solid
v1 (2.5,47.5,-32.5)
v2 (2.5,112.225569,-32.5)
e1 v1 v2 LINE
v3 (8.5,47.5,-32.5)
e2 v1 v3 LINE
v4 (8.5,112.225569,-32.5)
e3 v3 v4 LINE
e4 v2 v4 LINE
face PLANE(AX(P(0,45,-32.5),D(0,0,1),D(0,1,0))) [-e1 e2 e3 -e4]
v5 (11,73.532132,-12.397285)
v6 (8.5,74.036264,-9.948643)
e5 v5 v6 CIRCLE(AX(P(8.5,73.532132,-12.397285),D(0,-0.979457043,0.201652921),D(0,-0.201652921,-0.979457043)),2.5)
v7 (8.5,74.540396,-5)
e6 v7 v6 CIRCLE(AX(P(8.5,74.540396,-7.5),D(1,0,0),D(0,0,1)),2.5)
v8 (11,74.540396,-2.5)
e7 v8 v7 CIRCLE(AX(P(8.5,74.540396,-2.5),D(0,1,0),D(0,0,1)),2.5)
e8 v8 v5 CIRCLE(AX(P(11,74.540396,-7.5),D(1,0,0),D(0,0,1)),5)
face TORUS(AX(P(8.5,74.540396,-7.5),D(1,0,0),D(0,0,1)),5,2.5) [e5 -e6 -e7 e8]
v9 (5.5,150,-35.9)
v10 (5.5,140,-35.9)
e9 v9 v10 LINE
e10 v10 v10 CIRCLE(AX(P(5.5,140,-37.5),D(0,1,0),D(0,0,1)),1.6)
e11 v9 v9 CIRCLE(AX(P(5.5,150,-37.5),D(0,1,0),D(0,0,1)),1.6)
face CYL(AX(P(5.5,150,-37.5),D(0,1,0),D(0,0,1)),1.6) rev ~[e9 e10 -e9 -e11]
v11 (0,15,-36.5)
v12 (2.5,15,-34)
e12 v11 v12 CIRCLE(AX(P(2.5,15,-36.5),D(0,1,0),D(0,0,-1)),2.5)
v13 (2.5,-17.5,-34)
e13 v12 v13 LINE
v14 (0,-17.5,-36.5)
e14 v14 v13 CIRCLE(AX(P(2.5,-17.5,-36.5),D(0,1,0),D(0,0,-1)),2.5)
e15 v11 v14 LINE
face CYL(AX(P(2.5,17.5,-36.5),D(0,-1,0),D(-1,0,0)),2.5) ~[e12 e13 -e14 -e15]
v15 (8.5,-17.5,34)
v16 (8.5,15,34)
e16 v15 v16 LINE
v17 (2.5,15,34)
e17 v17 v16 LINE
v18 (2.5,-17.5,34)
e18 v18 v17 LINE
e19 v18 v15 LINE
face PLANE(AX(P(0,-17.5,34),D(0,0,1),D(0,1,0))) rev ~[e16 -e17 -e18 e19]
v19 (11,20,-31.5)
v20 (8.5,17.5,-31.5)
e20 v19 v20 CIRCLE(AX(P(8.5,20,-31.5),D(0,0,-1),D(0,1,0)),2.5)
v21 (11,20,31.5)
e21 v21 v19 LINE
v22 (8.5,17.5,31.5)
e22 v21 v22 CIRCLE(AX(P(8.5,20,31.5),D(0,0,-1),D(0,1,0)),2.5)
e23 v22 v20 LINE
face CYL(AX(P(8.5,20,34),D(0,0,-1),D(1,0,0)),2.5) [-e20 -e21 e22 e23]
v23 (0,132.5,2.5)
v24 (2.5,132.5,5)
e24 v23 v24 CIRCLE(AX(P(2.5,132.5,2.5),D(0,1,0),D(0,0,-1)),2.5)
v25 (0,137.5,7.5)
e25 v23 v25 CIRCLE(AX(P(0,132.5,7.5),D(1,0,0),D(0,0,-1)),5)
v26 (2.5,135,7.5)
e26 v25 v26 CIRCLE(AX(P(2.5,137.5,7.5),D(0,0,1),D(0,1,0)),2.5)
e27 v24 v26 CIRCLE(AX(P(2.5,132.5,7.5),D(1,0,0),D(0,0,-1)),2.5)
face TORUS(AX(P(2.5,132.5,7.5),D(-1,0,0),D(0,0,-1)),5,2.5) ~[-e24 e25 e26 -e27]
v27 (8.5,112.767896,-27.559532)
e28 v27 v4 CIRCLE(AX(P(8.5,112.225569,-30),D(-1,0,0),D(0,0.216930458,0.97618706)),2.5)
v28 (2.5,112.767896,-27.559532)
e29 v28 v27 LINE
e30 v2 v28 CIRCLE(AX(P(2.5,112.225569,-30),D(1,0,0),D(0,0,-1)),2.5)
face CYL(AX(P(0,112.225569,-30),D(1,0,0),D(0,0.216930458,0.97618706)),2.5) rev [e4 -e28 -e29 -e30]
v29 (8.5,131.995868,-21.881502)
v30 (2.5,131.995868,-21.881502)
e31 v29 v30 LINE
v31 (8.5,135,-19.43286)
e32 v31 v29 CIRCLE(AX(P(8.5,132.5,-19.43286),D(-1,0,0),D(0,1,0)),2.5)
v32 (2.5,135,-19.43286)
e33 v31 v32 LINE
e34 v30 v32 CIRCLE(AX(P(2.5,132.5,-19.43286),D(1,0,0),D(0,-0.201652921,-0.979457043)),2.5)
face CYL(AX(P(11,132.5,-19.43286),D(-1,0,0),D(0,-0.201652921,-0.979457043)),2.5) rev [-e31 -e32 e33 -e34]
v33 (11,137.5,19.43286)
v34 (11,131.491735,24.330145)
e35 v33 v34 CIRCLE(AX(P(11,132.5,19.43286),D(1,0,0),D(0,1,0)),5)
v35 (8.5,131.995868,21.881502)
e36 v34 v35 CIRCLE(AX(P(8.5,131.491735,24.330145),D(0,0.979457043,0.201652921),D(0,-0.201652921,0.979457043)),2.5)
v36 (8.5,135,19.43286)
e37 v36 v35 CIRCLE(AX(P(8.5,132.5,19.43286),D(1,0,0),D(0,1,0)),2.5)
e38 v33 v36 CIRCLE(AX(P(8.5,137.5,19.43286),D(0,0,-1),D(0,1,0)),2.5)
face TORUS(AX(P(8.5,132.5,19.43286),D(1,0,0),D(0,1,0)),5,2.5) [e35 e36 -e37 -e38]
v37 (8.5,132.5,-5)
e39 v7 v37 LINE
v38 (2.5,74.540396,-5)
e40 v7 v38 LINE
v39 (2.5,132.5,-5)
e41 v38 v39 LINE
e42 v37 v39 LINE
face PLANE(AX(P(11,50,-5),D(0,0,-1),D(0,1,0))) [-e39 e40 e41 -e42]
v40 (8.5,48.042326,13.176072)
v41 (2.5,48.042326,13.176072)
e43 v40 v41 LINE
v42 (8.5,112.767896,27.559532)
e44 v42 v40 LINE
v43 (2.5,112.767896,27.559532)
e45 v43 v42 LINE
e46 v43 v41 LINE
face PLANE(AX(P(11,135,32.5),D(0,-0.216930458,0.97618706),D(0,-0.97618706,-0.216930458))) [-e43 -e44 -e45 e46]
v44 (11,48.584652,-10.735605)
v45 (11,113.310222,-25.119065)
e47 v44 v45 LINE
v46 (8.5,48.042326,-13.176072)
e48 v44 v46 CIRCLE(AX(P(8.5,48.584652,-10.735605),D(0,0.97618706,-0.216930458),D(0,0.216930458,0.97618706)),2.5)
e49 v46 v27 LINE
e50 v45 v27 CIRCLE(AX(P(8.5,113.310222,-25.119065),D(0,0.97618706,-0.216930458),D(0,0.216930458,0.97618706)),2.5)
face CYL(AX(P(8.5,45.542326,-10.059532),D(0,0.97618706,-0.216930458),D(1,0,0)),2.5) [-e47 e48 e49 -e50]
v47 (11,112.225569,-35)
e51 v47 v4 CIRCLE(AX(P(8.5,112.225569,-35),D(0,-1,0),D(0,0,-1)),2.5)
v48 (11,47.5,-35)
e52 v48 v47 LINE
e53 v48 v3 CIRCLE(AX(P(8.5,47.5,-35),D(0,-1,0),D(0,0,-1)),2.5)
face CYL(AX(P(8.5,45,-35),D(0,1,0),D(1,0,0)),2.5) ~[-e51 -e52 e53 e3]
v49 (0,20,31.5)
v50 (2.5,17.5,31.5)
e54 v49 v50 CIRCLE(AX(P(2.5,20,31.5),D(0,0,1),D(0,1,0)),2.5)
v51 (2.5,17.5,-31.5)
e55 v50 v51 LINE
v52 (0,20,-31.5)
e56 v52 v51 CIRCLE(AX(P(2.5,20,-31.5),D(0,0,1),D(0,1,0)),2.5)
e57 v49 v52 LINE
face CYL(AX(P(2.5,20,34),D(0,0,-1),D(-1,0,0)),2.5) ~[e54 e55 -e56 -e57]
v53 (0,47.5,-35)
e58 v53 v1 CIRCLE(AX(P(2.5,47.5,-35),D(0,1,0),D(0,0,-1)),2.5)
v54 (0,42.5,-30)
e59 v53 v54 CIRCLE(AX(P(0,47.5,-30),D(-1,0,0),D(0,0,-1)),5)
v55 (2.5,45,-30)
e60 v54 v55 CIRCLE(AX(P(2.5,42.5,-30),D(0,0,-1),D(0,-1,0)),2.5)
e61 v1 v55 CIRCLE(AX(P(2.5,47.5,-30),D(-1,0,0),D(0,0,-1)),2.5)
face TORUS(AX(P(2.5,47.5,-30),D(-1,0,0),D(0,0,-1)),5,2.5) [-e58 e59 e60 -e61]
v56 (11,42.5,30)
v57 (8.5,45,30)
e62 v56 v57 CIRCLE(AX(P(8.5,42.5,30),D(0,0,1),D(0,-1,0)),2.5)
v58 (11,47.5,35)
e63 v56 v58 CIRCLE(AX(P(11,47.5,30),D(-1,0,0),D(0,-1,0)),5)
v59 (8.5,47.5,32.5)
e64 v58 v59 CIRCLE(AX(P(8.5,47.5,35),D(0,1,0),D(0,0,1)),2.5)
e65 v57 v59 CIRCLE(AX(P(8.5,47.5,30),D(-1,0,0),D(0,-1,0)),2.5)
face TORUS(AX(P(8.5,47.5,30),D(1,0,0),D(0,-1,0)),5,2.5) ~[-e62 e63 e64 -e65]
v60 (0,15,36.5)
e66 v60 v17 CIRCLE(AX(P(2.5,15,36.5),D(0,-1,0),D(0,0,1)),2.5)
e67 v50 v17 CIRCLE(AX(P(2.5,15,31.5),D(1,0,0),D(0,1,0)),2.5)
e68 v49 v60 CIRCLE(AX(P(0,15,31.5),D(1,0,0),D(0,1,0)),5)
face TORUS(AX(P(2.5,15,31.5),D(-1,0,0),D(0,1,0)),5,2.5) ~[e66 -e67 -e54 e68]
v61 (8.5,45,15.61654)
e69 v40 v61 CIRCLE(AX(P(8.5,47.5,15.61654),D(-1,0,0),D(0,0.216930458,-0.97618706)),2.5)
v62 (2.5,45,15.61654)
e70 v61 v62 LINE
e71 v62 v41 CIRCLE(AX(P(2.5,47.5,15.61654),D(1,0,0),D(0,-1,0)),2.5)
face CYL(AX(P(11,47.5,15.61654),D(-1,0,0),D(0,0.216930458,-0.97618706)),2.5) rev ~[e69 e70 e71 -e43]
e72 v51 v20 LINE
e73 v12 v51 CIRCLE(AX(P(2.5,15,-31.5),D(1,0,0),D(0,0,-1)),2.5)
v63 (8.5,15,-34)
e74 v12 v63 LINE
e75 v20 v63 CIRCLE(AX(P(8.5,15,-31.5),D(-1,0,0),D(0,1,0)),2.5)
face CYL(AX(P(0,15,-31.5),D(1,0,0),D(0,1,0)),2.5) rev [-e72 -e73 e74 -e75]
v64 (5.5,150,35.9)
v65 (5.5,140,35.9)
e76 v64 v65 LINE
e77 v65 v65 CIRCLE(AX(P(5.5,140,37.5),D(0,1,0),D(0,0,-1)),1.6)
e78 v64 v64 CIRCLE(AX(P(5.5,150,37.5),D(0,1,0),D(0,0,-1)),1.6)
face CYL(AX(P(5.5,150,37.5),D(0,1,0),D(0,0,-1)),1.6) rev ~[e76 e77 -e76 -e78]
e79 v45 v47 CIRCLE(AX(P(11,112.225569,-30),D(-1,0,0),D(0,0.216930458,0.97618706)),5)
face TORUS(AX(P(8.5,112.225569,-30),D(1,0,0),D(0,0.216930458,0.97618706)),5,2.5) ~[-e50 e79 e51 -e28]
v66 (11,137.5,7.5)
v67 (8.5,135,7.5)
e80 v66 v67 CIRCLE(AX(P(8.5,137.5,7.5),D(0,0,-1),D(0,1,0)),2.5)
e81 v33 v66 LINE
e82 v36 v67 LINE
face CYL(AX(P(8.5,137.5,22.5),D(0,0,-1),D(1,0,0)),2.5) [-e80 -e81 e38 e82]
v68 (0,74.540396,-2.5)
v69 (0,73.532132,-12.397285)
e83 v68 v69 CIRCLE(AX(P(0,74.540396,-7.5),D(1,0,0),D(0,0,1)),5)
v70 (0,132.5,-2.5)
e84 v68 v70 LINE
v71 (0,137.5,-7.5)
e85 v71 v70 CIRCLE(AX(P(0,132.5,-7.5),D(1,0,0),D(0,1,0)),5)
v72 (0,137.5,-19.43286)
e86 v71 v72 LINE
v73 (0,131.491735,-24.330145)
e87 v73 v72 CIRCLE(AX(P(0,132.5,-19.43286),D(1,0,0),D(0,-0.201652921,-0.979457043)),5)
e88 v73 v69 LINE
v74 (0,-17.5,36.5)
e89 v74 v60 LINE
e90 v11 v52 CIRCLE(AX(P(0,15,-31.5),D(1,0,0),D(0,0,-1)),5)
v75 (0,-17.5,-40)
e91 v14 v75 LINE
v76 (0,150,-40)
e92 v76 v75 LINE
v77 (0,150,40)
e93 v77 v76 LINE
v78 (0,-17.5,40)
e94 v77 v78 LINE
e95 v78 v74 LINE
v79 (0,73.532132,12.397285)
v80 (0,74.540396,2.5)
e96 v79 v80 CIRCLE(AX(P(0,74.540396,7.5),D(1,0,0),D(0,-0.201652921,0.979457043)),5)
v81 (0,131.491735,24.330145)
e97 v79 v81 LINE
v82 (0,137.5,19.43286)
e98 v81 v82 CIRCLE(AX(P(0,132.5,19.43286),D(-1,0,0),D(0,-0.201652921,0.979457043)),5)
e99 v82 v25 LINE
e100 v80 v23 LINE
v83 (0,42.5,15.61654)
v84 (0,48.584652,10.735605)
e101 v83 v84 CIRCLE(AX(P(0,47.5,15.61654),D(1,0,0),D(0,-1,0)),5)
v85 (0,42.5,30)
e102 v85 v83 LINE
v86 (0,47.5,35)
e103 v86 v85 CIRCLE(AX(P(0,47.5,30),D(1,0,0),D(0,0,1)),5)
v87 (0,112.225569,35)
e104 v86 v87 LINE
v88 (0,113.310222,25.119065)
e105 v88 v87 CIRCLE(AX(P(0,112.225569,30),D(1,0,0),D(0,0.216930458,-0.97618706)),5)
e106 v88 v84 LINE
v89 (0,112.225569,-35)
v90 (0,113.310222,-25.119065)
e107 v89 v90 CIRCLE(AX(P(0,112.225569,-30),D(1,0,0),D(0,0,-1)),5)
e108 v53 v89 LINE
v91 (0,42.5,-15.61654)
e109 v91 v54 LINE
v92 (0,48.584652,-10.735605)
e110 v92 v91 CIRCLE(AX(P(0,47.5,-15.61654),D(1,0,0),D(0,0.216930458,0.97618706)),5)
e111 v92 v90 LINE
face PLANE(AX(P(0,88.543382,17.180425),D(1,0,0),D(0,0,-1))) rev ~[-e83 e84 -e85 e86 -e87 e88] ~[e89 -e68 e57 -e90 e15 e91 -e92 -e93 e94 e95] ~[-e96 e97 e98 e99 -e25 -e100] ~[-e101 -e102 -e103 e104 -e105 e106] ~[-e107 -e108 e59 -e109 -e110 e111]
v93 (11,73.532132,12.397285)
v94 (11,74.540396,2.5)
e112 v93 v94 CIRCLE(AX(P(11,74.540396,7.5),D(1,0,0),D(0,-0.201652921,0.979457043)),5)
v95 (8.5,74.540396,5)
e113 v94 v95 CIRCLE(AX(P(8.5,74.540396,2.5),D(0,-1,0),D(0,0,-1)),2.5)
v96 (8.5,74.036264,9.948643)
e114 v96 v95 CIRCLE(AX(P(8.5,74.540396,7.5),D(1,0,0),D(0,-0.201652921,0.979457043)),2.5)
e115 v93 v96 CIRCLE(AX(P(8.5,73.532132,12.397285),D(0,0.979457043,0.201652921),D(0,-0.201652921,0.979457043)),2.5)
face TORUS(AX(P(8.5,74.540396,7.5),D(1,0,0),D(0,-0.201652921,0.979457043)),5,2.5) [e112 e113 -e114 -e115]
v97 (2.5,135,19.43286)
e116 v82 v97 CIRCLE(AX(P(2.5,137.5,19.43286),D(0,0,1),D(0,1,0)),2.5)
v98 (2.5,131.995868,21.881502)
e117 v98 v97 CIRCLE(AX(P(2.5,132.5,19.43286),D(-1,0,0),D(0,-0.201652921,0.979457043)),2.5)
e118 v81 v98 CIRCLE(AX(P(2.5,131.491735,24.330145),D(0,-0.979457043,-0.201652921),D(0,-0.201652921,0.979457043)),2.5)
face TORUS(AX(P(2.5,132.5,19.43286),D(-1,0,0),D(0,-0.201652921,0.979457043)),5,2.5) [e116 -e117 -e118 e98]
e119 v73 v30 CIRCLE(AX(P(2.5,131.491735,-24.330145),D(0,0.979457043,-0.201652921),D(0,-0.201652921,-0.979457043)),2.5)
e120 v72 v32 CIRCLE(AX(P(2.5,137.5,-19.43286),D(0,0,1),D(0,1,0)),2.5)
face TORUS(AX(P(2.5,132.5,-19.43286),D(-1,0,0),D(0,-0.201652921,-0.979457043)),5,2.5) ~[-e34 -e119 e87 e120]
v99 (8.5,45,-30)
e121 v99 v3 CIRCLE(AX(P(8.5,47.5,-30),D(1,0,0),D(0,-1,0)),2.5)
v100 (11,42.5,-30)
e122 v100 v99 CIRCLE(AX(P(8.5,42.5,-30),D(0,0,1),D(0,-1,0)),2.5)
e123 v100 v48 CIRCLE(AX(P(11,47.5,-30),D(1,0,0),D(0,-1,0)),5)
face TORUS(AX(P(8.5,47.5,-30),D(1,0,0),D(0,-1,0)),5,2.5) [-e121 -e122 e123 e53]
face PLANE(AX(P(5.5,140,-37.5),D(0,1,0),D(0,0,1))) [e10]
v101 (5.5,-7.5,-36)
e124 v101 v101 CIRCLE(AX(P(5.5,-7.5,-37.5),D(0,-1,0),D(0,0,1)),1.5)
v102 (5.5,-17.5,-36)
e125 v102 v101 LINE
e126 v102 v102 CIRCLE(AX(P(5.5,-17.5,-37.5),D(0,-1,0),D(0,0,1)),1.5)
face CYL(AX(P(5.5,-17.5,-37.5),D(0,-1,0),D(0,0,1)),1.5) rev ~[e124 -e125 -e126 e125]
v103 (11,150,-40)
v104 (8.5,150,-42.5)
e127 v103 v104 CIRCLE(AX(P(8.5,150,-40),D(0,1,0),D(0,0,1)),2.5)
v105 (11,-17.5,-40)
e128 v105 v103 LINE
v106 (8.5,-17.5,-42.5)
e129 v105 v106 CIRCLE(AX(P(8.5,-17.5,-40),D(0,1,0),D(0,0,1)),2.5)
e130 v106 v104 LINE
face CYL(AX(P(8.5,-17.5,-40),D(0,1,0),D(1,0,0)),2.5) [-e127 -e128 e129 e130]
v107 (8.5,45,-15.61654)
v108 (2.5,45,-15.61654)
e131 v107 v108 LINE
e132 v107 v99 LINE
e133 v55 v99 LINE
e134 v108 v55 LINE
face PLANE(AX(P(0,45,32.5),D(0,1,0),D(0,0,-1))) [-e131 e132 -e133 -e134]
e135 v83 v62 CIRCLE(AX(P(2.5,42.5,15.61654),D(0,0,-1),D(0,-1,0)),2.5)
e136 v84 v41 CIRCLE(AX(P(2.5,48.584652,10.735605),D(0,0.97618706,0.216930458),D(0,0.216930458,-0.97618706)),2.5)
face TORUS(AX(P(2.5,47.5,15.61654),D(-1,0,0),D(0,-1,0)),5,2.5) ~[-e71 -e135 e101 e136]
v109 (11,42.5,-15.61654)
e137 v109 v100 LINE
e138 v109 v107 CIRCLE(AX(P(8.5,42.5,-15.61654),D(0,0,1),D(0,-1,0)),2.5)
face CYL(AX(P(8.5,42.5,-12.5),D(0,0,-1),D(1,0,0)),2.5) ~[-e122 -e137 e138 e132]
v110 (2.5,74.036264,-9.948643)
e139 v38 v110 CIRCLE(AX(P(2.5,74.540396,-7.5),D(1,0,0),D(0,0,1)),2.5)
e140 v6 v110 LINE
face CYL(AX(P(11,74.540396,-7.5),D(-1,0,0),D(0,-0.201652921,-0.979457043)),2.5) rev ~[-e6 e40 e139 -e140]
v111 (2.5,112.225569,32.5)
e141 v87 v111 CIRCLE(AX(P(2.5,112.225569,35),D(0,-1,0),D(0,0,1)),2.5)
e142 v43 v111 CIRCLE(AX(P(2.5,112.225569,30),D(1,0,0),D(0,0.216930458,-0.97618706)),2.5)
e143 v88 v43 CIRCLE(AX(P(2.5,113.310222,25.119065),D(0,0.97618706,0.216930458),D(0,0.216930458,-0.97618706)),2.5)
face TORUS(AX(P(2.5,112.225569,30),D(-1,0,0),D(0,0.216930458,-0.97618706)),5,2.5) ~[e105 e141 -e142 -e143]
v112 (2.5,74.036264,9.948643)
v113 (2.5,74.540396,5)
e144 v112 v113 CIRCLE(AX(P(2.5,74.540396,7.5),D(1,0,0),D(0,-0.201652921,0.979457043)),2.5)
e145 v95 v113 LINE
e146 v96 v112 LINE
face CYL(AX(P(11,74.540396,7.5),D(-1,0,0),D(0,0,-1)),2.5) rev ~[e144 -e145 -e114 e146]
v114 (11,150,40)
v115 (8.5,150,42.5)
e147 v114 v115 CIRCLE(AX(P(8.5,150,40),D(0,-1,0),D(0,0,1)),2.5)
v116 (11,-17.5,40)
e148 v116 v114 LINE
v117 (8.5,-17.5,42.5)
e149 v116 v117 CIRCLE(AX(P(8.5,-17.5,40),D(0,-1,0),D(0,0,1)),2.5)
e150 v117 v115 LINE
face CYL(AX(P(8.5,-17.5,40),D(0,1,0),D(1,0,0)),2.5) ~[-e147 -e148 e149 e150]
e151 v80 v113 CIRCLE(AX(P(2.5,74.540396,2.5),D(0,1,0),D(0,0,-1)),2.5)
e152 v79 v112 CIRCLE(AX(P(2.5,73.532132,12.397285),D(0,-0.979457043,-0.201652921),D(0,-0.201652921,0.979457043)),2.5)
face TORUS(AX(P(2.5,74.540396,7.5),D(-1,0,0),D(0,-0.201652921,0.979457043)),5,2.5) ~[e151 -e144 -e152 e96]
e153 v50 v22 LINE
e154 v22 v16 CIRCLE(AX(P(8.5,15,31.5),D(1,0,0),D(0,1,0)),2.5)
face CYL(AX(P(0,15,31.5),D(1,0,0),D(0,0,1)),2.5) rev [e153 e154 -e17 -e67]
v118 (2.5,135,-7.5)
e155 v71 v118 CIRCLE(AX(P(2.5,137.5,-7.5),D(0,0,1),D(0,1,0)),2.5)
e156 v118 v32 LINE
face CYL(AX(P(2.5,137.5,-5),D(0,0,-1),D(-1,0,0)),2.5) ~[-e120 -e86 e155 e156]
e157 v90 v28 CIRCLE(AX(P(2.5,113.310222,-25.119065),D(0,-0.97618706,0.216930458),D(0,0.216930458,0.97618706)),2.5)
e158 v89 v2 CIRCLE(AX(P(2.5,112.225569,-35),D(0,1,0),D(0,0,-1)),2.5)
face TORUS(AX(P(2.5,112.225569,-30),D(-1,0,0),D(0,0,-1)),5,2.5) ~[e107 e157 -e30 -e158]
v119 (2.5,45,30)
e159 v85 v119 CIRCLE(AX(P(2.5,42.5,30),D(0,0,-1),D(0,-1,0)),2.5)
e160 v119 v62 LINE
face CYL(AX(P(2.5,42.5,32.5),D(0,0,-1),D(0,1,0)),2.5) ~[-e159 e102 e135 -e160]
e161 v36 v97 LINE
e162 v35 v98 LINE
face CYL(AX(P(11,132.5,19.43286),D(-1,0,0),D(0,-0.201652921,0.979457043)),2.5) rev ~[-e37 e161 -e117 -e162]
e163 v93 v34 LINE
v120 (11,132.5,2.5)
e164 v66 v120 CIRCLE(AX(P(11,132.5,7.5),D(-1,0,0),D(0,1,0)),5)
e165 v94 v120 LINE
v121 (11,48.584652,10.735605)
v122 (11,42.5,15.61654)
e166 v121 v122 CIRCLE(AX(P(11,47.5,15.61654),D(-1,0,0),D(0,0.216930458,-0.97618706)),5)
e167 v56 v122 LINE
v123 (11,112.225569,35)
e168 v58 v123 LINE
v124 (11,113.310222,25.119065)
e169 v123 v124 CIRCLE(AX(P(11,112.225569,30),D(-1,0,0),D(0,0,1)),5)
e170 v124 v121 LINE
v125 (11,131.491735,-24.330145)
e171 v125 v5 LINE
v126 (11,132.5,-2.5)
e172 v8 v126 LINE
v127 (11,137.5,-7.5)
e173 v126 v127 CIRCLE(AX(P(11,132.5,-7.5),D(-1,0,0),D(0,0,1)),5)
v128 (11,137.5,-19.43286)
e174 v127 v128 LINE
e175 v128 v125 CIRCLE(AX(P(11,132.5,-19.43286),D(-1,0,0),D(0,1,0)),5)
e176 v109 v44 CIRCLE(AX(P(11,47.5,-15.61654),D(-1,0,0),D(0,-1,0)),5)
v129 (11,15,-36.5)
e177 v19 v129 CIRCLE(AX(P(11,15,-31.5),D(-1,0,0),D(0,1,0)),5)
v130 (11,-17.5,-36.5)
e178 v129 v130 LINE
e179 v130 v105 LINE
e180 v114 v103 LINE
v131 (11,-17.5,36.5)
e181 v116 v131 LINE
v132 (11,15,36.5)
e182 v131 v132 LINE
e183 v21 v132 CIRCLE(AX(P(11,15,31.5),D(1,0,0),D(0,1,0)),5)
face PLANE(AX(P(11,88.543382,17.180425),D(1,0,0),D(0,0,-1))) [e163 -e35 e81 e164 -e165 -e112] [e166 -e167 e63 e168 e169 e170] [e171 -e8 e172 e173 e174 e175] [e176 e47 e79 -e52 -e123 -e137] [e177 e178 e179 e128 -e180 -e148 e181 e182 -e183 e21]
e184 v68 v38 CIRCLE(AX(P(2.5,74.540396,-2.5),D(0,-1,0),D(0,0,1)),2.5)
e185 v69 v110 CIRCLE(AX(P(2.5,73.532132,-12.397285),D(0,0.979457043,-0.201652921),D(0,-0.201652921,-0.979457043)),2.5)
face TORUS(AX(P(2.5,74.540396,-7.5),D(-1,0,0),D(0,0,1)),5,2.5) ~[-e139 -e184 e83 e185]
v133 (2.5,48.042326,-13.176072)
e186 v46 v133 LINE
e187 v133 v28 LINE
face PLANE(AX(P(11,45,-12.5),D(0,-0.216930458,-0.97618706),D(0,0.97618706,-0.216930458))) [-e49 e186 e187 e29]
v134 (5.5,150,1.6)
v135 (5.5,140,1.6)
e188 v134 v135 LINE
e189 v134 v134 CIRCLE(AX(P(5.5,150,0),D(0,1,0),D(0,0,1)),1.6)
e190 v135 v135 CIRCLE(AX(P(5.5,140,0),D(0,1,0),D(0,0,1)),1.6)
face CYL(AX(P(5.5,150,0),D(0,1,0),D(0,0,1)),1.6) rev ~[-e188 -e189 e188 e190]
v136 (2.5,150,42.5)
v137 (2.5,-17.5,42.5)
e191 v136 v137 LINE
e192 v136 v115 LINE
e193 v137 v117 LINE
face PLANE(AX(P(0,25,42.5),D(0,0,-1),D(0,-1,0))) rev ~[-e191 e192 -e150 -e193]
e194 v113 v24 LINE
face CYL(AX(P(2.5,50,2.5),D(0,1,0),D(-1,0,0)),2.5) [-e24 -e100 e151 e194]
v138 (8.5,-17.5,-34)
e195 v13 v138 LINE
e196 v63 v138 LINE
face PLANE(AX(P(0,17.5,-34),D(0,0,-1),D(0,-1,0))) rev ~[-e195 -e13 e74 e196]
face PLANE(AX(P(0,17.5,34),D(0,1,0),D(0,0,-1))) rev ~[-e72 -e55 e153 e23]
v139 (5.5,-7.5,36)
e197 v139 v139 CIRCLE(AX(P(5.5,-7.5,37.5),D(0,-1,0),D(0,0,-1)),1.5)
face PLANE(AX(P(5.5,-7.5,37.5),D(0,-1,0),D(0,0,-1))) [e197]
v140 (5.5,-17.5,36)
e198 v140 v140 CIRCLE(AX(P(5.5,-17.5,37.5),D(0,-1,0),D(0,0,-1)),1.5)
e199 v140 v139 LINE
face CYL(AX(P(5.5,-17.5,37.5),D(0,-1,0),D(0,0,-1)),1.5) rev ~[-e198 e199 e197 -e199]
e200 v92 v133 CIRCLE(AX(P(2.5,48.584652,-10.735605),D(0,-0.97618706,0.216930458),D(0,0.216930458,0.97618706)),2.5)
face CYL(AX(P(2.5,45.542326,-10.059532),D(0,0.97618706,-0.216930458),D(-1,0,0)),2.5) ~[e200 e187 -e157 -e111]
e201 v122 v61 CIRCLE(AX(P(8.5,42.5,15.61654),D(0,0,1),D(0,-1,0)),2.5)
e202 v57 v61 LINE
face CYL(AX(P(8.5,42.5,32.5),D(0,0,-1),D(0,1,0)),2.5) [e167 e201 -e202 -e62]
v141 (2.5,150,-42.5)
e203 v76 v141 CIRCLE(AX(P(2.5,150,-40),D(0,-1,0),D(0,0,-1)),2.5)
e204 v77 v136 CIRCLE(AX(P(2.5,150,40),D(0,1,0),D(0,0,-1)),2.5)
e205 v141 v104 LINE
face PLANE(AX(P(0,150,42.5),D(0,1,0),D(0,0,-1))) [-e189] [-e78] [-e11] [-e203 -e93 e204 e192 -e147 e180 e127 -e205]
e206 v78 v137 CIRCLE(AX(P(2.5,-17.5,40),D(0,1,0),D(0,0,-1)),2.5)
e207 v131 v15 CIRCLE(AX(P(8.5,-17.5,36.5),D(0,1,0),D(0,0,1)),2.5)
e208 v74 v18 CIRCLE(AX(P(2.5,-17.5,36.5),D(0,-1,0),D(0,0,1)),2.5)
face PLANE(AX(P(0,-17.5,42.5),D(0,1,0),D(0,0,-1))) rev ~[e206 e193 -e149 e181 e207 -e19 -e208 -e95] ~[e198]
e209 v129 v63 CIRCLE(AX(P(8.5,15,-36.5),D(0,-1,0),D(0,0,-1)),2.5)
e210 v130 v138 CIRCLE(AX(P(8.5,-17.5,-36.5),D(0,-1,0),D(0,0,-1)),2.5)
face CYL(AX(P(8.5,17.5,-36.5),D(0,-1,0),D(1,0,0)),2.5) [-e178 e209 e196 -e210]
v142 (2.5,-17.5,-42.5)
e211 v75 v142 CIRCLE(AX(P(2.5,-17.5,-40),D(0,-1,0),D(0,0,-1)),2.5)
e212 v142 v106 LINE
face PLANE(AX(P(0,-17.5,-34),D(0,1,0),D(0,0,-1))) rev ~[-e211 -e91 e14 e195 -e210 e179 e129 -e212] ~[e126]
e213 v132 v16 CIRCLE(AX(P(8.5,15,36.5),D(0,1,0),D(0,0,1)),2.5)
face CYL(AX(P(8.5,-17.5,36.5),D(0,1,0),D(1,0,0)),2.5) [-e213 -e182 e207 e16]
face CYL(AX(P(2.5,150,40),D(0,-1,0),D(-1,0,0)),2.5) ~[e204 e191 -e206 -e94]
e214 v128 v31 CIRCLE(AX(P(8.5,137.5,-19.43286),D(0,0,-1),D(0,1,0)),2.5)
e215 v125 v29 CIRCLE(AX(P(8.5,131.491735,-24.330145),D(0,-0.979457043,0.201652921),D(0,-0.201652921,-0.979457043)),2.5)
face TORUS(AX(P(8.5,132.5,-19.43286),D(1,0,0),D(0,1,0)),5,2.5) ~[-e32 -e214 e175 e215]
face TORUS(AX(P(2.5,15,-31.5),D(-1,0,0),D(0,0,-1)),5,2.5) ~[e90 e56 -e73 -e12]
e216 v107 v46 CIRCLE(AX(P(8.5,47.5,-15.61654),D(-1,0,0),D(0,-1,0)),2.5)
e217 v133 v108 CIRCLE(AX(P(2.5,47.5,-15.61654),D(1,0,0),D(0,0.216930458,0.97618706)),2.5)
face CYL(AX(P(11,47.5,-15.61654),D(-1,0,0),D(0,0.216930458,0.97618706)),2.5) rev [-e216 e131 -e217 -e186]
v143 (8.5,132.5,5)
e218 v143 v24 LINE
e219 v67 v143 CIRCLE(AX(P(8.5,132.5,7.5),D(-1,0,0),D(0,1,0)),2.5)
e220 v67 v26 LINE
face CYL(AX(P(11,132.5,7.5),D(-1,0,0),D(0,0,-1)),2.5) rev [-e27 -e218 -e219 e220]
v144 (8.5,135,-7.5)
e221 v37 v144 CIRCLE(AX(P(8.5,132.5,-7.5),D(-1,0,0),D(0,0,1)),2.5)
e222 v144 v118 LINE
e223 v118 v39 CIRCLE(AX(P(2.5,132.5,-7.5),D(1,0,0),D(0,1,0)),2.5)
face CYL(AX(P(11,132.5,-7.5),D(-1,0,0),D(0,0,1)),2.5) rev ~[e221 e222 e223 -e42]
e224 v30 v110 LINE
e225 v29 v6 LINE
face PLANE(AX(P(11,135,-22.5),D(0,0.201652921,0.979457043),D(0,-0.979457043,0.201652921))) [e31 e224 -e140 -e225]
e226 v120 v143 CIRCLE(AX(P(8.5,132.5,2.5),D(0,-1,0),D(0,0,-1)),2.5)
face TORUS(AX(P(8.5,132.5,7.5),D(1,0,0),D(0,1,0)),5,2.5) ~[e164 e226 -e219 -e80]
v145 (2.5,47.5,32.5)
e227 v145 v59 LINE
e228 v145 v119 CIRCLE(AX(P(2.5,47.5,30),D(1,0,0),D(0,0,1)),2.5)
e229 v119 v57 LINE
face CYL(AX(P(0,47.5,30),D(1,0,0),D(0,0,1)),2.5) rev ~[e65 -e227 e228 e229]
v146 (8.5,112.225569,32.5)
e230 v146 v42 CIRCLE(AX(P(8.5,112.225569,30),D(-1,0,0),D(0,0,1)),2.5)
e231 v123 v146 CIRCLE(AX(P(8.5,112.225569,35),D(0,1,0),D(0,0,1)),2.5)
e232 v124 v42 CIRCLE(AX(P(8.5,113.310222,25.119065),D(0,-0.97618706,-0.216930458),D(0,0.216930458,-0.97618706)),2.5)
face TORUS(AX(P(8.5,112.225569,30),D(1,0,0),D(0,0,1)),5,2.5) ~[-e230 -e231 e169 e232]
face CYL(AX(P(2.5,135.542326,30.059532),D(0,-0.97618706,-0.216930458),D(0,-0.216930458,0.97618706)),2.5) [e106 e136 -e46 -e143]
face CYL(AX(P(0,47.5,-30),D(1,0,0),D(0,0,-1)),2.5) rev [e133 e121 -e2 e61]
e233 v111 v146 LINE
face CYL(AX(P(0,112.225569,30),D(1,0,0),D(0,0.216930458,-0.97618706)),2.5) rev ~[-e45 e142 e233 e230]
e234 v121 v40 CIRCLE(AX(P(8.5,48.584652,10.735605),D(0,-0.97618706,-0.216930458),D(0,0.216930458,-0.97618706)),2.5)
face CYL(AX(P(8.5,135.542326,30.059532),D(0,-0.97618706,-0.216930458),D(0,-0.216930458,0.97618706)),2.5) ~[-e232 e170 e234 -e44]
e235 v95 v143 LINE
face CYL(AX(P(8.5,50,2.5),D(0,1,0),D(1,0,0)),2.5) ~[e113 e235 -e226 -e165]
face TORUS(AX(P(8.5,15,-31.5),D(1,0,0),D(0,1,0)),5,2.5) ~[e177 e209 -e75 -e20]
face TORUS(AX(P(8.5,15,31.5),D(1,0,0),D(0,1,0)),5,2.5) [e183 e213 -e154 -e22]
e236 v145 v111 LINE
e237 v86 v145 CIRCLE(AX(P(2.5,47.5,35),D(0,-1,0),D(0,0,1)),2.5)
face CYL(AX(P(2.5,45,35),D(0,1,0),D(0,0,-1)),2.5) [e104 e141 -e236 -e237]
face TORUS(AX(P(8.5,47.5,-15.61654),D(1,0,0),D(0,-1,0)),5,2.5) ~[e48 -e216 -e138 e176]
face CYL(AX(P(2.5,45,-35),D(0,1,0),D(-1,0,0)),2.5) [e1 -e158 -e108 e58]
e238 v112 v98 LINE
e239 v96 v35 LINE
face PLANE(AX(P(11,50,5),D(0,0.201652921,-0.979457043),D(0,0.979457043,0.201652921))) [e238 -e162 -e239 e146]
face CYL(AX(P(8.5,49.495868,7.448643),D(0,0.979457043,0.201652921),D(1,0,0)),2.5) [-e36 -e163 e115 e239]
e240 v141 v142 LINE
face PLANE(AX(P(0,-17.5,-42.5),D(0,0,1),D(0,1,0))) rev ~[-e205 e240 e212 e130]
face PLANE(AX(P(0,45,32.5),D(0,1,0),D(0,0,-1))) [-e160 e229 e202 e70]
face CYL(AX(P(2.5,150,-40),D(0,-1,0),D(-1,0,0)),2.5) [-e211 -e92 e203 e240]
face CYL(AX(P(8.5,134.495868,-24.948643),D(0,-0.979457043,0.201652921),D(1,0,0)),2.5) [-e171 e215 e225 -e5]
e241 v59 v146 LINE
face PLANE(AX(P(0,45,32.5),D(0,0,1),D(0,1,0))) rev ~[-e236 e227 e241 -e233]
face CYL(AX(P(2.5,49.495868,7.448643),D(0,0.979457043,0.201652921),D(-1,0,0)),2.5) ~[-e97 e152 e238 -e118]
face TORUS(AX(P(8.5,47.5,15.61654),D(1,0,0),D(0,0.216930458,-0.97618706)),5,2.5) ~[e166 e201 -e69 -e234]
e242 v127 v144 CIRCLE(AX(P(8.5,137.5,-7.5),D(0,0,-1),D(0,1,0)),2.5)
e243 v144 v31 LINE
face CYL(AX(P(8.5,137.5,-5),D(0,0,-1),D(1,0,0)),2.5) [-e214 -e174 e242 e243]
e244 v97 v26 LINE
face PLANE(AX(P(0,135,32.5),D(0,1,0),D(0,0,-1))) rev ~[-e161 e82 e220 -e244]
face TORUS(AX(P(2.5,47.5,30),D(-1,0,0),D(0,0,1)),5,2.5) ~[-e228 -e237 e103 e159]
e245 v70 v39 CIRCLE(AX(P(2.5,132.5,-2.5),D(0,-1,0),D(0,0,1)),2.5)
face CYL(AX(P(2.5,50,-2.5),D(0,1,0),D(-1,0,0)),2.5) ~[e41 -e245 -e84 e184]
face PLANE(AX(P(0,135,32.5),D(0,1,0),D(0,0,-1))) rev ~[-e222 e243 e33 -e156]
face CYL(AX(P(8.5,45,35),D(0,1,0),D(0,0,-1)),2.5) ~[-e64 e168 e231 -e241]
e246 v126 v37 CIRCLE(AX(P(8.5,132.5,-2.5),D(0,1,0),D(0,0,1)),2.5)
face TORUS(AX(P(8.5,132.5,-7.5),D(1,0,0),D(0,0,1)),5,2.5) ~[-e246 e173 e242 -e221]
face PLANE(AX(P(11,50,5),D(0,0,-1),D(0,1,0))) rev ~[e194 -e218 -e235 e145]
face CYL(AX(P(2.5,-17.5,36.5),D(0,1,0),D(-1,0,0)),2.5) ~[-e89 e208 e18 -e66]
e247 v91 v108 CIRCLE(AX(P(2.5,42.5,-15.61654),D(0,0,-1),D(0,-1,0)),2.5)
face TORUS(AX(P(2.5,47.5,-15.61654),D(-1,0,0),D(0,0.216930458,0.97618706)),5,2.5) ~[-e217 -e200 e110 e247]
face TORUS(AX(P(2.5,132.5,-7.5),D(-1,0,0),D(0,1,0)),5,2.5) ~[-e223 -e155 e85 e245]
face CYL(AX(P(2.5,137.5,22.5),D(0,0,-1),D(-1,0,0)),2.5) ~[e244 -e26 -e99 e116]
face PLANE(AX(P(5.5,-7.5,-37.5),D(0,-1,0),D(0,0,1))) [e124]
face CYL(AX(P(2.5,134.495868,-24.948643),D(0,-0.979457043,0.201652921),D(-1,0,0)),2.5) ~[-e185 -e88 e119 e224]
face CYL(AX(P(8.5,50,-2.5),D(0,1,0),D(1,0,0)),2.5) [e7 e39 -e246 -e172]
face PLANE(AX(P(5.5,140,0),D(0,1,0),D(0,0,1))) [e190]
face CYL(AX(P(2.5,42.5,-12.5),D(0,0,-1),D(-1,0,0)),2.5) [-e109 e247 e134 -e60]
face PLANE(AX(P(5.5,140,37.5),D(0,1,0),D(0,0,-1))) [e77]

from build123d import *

# Parameters (mm, degrees)
SKETCH1_W           = 85
SKETCH1_H           = 125
SKETCH1_W_2         = 65
SKETCH1_H_2         = 90
BOSS_EXTRUDE1_DEPTH = 11
SKETCH2_W           = 5
SKETCH2_H           = 85
BOSS_EXTRUDE2_DEPTH = 11
SKETCH3_R           = 1.5
CUT_EXTRUDE1_DEPTH  = 10
SKETCH4_R           = 1.6
CUT_EXTRUDE2_DEPTH  = 10
FILLET1_R           = 2.5


with BuildPart() as part:
    # Sketch1 → Boss-Extrude1 (new body)
    # profile 1 of 6: a face of its own
    with BuildSketch(Plane(origin=(0, 0, 0), x_dir=(0, 0, -1), z_dir=(1, 0, 0))):
        with Locations((0, 87.5)):
            Rectangle(SKETCH1_W, SKETCH1_H)
        with Locations((0, 90)):
            Rectangle(SKETCH1_W_2, SKETCH1_H_2, mode=Mode.SUBTRACT)
    # profile 2 of 6: a face of its own
    with BuildSketch(Plane(origin=(0, 0, 0), x_dir=(0, 0, -1), z_dir=(1, 0, 0))):
        Polygon((-42.5, 25), (-42.5, -17.5), (-34, -17.5), (-34, 17.5), (34, 17.5), (34, -17.5), (42.5, -17.5), (42.5, 25), align=None)
    # profile 3 of 6: a face of its own
    with BuildSketch(Plane(origin=(0, 0, 0), x_dir=(0, 0, -1), z_dir=(1, 0, 0))):
        Polygon((-42.5, 25), (-42.5, -17.5), (-34, -17.5), (-34, 17.5), (34, 17.5), (34, -17.5), (42.5, -17.5), (42.5, 25), align=None)
    # profile 4 of 6: a face of its own
    with BuildSketch(Plane(origin=(0, 0, 0), x_dir=(0, 0, -1), z_dir=(1, 0, 0))):
        Polygon((-42.5, 25), (-42.5, -17.5), (-34, -17.5), (-34, 17.5), (34, 17.5), (34, -17.5), (42.5, -17.5), (42.5, 25), align=None)
    # profile 5 of 6: a face of its own
    with BuildSketch(Plane(origin=(0, 0, 0), x_dir=(0, 0, -1), z_dir=(1, 0, 0))):
        Polygon((-42.5, 25), (-42.5, -17.5), (-34, -17.5), (-34, 17.5), (34, 17.5), (34, -17.5), (42.5, -17.5), (42.5, 25), align=None)
    # profile 6 of 6: a face of its own
    with BuildSketch(Plane(origin=(0, 0, 0), x_dir=(0, 0, -1), z_dir=(1, 0, 0))):
        Polygon((-42.5, 25), (-42.5, -17.5), (-34, -17.5), (-34, 17.5), (34, 17.5), (34, -17.5), (42.5, -17.5), (42.5, 25), align=None)
    extrude(amount=BOSS_EXTRUDE1_DEPTH)

    # Sketch2 → Boss-Extrude2 (add, through all)
    with BuildSketch(Plane(origin=(11, 0, 0), x_dir=(0, 0, -1), z_dir=(1, 0, 0))):
        Polygon((-22.5, 135), (-32.5, 135), (-12.5, 45), (0, 45), (0, 50), (-5, 50), align=None)
        with Locations((-2.5, 92.5)):
            Rectangle(SKETCH2_W, SKETCH2_H)
        with Locations((2.5, 92.5)):
            Rectangle(SKETCH2_W, SKETCH2_H)
        Polygon((0, 50), (0, 45), (12.5, 45), (32.5, 135), (22.5, 135), (5, 50), align=None)
    extrude(amount=-BOSS_EXTRUDE2_DEPTH)

    # Sketch3 → Cut-Extrude1 (cut)
    with BuildSketch(Plane.XZ.offset(17.5)):
        with Locations(Location((5.5, 37.5, 0), (0, 0, 270))):
            Circle(SKETCH3_R)
        with Locations(Location((5.5, -37.5, 0), (0, 0, 90))):
            Circle(SKETCH3_R)
    extrude(amount=-CUT_EXTRUDE1_DEPTH, mode=Mode.SUBTRACT)

    # Sketch4 → Cut-Extrude2 (cut)
    with BuildSketch(Plane(origin=(0, 150, 0), x_dir=(1, 0, 0), z_dir=(0, 1, 0))):
        with Locations(Location((5.5, 37.5, 0), (0, 0, 270))):
            Circle(SKETCH4_R)
        with Locations(Location((5.5, -37.5, 0), (0, 0, 90))):
            Circle(SKETCH4_R)
        with Locations(Location((5.5, 0, 0), (0, 0, 270))):
            Circle(SKETCH4_R)
    extrude(amount=-CUT_EXTRUDE2_DEPTH, mode=Mode.SUBTRACT)

    # Fillet1
    fillet1_edges = [part.edges().sort_by_distance(p)[0] for p in [
        (0, 66.25, -42.5),
        (0, 0, -34),
        (0, 17.5, 0),
        (0, 0, 34),
        (0, 66.25, 42.5),
        (11, 0, 34),
        (5.5, 17.5, -34),
        (5.5, 17.5, 34),
        (11, 17.5, 0),
        (0, 45, 22.5),
        (11, 0, -34),
        (5.5, 45, 32.5),
        (11, 90, -32.5),
        (5.5, 45, -32.5),
        (5.5, 135, -32.5),
        (0, 90, 32.5),
        (5.5, 135, 32.5),
        (11, 45, 22.5),
        (11, 90, 32.5),
        (0, 90, -32.5),
        (11, 66.25, -42.5),
        (0, 135, 13.75),
        (0, 135, -13.75),
        (11, 135, 13.75),
        (11, 135, -13.75),
        (0, 45, -22.5),
        (11, 66.25, 42.5),
        (11, 45, -22.5),
        (11, 92.5, -13.75),
        (5.5, 50, -5),
        (5.5, 135, -22.5),
        (11, 90, -22.5),
        (5.5, 45, -12.5),
        (0, 90, 22.5),
        (5.5, 45, 12.5),
        (11, 92.5, 13.75),
        (5.5, 135, 22.5),
        (11, 92.5, 5),
        (5.5, 50, 5),
        (5.5, 135, 5),
        (0, 92.5, -5),
        (5.5, 135, -5),
        (0, 92.5, -13.75),
        (0, 90, -22.5),
        (0, 92.5, 13.75),
        (0, 92.5, 5),
        (11, 92.5, -5),
        (11, 90, 22.5),
    ]]
    fillet(fillet1_edges, radius=FILLET1_R)


solid = part.part
